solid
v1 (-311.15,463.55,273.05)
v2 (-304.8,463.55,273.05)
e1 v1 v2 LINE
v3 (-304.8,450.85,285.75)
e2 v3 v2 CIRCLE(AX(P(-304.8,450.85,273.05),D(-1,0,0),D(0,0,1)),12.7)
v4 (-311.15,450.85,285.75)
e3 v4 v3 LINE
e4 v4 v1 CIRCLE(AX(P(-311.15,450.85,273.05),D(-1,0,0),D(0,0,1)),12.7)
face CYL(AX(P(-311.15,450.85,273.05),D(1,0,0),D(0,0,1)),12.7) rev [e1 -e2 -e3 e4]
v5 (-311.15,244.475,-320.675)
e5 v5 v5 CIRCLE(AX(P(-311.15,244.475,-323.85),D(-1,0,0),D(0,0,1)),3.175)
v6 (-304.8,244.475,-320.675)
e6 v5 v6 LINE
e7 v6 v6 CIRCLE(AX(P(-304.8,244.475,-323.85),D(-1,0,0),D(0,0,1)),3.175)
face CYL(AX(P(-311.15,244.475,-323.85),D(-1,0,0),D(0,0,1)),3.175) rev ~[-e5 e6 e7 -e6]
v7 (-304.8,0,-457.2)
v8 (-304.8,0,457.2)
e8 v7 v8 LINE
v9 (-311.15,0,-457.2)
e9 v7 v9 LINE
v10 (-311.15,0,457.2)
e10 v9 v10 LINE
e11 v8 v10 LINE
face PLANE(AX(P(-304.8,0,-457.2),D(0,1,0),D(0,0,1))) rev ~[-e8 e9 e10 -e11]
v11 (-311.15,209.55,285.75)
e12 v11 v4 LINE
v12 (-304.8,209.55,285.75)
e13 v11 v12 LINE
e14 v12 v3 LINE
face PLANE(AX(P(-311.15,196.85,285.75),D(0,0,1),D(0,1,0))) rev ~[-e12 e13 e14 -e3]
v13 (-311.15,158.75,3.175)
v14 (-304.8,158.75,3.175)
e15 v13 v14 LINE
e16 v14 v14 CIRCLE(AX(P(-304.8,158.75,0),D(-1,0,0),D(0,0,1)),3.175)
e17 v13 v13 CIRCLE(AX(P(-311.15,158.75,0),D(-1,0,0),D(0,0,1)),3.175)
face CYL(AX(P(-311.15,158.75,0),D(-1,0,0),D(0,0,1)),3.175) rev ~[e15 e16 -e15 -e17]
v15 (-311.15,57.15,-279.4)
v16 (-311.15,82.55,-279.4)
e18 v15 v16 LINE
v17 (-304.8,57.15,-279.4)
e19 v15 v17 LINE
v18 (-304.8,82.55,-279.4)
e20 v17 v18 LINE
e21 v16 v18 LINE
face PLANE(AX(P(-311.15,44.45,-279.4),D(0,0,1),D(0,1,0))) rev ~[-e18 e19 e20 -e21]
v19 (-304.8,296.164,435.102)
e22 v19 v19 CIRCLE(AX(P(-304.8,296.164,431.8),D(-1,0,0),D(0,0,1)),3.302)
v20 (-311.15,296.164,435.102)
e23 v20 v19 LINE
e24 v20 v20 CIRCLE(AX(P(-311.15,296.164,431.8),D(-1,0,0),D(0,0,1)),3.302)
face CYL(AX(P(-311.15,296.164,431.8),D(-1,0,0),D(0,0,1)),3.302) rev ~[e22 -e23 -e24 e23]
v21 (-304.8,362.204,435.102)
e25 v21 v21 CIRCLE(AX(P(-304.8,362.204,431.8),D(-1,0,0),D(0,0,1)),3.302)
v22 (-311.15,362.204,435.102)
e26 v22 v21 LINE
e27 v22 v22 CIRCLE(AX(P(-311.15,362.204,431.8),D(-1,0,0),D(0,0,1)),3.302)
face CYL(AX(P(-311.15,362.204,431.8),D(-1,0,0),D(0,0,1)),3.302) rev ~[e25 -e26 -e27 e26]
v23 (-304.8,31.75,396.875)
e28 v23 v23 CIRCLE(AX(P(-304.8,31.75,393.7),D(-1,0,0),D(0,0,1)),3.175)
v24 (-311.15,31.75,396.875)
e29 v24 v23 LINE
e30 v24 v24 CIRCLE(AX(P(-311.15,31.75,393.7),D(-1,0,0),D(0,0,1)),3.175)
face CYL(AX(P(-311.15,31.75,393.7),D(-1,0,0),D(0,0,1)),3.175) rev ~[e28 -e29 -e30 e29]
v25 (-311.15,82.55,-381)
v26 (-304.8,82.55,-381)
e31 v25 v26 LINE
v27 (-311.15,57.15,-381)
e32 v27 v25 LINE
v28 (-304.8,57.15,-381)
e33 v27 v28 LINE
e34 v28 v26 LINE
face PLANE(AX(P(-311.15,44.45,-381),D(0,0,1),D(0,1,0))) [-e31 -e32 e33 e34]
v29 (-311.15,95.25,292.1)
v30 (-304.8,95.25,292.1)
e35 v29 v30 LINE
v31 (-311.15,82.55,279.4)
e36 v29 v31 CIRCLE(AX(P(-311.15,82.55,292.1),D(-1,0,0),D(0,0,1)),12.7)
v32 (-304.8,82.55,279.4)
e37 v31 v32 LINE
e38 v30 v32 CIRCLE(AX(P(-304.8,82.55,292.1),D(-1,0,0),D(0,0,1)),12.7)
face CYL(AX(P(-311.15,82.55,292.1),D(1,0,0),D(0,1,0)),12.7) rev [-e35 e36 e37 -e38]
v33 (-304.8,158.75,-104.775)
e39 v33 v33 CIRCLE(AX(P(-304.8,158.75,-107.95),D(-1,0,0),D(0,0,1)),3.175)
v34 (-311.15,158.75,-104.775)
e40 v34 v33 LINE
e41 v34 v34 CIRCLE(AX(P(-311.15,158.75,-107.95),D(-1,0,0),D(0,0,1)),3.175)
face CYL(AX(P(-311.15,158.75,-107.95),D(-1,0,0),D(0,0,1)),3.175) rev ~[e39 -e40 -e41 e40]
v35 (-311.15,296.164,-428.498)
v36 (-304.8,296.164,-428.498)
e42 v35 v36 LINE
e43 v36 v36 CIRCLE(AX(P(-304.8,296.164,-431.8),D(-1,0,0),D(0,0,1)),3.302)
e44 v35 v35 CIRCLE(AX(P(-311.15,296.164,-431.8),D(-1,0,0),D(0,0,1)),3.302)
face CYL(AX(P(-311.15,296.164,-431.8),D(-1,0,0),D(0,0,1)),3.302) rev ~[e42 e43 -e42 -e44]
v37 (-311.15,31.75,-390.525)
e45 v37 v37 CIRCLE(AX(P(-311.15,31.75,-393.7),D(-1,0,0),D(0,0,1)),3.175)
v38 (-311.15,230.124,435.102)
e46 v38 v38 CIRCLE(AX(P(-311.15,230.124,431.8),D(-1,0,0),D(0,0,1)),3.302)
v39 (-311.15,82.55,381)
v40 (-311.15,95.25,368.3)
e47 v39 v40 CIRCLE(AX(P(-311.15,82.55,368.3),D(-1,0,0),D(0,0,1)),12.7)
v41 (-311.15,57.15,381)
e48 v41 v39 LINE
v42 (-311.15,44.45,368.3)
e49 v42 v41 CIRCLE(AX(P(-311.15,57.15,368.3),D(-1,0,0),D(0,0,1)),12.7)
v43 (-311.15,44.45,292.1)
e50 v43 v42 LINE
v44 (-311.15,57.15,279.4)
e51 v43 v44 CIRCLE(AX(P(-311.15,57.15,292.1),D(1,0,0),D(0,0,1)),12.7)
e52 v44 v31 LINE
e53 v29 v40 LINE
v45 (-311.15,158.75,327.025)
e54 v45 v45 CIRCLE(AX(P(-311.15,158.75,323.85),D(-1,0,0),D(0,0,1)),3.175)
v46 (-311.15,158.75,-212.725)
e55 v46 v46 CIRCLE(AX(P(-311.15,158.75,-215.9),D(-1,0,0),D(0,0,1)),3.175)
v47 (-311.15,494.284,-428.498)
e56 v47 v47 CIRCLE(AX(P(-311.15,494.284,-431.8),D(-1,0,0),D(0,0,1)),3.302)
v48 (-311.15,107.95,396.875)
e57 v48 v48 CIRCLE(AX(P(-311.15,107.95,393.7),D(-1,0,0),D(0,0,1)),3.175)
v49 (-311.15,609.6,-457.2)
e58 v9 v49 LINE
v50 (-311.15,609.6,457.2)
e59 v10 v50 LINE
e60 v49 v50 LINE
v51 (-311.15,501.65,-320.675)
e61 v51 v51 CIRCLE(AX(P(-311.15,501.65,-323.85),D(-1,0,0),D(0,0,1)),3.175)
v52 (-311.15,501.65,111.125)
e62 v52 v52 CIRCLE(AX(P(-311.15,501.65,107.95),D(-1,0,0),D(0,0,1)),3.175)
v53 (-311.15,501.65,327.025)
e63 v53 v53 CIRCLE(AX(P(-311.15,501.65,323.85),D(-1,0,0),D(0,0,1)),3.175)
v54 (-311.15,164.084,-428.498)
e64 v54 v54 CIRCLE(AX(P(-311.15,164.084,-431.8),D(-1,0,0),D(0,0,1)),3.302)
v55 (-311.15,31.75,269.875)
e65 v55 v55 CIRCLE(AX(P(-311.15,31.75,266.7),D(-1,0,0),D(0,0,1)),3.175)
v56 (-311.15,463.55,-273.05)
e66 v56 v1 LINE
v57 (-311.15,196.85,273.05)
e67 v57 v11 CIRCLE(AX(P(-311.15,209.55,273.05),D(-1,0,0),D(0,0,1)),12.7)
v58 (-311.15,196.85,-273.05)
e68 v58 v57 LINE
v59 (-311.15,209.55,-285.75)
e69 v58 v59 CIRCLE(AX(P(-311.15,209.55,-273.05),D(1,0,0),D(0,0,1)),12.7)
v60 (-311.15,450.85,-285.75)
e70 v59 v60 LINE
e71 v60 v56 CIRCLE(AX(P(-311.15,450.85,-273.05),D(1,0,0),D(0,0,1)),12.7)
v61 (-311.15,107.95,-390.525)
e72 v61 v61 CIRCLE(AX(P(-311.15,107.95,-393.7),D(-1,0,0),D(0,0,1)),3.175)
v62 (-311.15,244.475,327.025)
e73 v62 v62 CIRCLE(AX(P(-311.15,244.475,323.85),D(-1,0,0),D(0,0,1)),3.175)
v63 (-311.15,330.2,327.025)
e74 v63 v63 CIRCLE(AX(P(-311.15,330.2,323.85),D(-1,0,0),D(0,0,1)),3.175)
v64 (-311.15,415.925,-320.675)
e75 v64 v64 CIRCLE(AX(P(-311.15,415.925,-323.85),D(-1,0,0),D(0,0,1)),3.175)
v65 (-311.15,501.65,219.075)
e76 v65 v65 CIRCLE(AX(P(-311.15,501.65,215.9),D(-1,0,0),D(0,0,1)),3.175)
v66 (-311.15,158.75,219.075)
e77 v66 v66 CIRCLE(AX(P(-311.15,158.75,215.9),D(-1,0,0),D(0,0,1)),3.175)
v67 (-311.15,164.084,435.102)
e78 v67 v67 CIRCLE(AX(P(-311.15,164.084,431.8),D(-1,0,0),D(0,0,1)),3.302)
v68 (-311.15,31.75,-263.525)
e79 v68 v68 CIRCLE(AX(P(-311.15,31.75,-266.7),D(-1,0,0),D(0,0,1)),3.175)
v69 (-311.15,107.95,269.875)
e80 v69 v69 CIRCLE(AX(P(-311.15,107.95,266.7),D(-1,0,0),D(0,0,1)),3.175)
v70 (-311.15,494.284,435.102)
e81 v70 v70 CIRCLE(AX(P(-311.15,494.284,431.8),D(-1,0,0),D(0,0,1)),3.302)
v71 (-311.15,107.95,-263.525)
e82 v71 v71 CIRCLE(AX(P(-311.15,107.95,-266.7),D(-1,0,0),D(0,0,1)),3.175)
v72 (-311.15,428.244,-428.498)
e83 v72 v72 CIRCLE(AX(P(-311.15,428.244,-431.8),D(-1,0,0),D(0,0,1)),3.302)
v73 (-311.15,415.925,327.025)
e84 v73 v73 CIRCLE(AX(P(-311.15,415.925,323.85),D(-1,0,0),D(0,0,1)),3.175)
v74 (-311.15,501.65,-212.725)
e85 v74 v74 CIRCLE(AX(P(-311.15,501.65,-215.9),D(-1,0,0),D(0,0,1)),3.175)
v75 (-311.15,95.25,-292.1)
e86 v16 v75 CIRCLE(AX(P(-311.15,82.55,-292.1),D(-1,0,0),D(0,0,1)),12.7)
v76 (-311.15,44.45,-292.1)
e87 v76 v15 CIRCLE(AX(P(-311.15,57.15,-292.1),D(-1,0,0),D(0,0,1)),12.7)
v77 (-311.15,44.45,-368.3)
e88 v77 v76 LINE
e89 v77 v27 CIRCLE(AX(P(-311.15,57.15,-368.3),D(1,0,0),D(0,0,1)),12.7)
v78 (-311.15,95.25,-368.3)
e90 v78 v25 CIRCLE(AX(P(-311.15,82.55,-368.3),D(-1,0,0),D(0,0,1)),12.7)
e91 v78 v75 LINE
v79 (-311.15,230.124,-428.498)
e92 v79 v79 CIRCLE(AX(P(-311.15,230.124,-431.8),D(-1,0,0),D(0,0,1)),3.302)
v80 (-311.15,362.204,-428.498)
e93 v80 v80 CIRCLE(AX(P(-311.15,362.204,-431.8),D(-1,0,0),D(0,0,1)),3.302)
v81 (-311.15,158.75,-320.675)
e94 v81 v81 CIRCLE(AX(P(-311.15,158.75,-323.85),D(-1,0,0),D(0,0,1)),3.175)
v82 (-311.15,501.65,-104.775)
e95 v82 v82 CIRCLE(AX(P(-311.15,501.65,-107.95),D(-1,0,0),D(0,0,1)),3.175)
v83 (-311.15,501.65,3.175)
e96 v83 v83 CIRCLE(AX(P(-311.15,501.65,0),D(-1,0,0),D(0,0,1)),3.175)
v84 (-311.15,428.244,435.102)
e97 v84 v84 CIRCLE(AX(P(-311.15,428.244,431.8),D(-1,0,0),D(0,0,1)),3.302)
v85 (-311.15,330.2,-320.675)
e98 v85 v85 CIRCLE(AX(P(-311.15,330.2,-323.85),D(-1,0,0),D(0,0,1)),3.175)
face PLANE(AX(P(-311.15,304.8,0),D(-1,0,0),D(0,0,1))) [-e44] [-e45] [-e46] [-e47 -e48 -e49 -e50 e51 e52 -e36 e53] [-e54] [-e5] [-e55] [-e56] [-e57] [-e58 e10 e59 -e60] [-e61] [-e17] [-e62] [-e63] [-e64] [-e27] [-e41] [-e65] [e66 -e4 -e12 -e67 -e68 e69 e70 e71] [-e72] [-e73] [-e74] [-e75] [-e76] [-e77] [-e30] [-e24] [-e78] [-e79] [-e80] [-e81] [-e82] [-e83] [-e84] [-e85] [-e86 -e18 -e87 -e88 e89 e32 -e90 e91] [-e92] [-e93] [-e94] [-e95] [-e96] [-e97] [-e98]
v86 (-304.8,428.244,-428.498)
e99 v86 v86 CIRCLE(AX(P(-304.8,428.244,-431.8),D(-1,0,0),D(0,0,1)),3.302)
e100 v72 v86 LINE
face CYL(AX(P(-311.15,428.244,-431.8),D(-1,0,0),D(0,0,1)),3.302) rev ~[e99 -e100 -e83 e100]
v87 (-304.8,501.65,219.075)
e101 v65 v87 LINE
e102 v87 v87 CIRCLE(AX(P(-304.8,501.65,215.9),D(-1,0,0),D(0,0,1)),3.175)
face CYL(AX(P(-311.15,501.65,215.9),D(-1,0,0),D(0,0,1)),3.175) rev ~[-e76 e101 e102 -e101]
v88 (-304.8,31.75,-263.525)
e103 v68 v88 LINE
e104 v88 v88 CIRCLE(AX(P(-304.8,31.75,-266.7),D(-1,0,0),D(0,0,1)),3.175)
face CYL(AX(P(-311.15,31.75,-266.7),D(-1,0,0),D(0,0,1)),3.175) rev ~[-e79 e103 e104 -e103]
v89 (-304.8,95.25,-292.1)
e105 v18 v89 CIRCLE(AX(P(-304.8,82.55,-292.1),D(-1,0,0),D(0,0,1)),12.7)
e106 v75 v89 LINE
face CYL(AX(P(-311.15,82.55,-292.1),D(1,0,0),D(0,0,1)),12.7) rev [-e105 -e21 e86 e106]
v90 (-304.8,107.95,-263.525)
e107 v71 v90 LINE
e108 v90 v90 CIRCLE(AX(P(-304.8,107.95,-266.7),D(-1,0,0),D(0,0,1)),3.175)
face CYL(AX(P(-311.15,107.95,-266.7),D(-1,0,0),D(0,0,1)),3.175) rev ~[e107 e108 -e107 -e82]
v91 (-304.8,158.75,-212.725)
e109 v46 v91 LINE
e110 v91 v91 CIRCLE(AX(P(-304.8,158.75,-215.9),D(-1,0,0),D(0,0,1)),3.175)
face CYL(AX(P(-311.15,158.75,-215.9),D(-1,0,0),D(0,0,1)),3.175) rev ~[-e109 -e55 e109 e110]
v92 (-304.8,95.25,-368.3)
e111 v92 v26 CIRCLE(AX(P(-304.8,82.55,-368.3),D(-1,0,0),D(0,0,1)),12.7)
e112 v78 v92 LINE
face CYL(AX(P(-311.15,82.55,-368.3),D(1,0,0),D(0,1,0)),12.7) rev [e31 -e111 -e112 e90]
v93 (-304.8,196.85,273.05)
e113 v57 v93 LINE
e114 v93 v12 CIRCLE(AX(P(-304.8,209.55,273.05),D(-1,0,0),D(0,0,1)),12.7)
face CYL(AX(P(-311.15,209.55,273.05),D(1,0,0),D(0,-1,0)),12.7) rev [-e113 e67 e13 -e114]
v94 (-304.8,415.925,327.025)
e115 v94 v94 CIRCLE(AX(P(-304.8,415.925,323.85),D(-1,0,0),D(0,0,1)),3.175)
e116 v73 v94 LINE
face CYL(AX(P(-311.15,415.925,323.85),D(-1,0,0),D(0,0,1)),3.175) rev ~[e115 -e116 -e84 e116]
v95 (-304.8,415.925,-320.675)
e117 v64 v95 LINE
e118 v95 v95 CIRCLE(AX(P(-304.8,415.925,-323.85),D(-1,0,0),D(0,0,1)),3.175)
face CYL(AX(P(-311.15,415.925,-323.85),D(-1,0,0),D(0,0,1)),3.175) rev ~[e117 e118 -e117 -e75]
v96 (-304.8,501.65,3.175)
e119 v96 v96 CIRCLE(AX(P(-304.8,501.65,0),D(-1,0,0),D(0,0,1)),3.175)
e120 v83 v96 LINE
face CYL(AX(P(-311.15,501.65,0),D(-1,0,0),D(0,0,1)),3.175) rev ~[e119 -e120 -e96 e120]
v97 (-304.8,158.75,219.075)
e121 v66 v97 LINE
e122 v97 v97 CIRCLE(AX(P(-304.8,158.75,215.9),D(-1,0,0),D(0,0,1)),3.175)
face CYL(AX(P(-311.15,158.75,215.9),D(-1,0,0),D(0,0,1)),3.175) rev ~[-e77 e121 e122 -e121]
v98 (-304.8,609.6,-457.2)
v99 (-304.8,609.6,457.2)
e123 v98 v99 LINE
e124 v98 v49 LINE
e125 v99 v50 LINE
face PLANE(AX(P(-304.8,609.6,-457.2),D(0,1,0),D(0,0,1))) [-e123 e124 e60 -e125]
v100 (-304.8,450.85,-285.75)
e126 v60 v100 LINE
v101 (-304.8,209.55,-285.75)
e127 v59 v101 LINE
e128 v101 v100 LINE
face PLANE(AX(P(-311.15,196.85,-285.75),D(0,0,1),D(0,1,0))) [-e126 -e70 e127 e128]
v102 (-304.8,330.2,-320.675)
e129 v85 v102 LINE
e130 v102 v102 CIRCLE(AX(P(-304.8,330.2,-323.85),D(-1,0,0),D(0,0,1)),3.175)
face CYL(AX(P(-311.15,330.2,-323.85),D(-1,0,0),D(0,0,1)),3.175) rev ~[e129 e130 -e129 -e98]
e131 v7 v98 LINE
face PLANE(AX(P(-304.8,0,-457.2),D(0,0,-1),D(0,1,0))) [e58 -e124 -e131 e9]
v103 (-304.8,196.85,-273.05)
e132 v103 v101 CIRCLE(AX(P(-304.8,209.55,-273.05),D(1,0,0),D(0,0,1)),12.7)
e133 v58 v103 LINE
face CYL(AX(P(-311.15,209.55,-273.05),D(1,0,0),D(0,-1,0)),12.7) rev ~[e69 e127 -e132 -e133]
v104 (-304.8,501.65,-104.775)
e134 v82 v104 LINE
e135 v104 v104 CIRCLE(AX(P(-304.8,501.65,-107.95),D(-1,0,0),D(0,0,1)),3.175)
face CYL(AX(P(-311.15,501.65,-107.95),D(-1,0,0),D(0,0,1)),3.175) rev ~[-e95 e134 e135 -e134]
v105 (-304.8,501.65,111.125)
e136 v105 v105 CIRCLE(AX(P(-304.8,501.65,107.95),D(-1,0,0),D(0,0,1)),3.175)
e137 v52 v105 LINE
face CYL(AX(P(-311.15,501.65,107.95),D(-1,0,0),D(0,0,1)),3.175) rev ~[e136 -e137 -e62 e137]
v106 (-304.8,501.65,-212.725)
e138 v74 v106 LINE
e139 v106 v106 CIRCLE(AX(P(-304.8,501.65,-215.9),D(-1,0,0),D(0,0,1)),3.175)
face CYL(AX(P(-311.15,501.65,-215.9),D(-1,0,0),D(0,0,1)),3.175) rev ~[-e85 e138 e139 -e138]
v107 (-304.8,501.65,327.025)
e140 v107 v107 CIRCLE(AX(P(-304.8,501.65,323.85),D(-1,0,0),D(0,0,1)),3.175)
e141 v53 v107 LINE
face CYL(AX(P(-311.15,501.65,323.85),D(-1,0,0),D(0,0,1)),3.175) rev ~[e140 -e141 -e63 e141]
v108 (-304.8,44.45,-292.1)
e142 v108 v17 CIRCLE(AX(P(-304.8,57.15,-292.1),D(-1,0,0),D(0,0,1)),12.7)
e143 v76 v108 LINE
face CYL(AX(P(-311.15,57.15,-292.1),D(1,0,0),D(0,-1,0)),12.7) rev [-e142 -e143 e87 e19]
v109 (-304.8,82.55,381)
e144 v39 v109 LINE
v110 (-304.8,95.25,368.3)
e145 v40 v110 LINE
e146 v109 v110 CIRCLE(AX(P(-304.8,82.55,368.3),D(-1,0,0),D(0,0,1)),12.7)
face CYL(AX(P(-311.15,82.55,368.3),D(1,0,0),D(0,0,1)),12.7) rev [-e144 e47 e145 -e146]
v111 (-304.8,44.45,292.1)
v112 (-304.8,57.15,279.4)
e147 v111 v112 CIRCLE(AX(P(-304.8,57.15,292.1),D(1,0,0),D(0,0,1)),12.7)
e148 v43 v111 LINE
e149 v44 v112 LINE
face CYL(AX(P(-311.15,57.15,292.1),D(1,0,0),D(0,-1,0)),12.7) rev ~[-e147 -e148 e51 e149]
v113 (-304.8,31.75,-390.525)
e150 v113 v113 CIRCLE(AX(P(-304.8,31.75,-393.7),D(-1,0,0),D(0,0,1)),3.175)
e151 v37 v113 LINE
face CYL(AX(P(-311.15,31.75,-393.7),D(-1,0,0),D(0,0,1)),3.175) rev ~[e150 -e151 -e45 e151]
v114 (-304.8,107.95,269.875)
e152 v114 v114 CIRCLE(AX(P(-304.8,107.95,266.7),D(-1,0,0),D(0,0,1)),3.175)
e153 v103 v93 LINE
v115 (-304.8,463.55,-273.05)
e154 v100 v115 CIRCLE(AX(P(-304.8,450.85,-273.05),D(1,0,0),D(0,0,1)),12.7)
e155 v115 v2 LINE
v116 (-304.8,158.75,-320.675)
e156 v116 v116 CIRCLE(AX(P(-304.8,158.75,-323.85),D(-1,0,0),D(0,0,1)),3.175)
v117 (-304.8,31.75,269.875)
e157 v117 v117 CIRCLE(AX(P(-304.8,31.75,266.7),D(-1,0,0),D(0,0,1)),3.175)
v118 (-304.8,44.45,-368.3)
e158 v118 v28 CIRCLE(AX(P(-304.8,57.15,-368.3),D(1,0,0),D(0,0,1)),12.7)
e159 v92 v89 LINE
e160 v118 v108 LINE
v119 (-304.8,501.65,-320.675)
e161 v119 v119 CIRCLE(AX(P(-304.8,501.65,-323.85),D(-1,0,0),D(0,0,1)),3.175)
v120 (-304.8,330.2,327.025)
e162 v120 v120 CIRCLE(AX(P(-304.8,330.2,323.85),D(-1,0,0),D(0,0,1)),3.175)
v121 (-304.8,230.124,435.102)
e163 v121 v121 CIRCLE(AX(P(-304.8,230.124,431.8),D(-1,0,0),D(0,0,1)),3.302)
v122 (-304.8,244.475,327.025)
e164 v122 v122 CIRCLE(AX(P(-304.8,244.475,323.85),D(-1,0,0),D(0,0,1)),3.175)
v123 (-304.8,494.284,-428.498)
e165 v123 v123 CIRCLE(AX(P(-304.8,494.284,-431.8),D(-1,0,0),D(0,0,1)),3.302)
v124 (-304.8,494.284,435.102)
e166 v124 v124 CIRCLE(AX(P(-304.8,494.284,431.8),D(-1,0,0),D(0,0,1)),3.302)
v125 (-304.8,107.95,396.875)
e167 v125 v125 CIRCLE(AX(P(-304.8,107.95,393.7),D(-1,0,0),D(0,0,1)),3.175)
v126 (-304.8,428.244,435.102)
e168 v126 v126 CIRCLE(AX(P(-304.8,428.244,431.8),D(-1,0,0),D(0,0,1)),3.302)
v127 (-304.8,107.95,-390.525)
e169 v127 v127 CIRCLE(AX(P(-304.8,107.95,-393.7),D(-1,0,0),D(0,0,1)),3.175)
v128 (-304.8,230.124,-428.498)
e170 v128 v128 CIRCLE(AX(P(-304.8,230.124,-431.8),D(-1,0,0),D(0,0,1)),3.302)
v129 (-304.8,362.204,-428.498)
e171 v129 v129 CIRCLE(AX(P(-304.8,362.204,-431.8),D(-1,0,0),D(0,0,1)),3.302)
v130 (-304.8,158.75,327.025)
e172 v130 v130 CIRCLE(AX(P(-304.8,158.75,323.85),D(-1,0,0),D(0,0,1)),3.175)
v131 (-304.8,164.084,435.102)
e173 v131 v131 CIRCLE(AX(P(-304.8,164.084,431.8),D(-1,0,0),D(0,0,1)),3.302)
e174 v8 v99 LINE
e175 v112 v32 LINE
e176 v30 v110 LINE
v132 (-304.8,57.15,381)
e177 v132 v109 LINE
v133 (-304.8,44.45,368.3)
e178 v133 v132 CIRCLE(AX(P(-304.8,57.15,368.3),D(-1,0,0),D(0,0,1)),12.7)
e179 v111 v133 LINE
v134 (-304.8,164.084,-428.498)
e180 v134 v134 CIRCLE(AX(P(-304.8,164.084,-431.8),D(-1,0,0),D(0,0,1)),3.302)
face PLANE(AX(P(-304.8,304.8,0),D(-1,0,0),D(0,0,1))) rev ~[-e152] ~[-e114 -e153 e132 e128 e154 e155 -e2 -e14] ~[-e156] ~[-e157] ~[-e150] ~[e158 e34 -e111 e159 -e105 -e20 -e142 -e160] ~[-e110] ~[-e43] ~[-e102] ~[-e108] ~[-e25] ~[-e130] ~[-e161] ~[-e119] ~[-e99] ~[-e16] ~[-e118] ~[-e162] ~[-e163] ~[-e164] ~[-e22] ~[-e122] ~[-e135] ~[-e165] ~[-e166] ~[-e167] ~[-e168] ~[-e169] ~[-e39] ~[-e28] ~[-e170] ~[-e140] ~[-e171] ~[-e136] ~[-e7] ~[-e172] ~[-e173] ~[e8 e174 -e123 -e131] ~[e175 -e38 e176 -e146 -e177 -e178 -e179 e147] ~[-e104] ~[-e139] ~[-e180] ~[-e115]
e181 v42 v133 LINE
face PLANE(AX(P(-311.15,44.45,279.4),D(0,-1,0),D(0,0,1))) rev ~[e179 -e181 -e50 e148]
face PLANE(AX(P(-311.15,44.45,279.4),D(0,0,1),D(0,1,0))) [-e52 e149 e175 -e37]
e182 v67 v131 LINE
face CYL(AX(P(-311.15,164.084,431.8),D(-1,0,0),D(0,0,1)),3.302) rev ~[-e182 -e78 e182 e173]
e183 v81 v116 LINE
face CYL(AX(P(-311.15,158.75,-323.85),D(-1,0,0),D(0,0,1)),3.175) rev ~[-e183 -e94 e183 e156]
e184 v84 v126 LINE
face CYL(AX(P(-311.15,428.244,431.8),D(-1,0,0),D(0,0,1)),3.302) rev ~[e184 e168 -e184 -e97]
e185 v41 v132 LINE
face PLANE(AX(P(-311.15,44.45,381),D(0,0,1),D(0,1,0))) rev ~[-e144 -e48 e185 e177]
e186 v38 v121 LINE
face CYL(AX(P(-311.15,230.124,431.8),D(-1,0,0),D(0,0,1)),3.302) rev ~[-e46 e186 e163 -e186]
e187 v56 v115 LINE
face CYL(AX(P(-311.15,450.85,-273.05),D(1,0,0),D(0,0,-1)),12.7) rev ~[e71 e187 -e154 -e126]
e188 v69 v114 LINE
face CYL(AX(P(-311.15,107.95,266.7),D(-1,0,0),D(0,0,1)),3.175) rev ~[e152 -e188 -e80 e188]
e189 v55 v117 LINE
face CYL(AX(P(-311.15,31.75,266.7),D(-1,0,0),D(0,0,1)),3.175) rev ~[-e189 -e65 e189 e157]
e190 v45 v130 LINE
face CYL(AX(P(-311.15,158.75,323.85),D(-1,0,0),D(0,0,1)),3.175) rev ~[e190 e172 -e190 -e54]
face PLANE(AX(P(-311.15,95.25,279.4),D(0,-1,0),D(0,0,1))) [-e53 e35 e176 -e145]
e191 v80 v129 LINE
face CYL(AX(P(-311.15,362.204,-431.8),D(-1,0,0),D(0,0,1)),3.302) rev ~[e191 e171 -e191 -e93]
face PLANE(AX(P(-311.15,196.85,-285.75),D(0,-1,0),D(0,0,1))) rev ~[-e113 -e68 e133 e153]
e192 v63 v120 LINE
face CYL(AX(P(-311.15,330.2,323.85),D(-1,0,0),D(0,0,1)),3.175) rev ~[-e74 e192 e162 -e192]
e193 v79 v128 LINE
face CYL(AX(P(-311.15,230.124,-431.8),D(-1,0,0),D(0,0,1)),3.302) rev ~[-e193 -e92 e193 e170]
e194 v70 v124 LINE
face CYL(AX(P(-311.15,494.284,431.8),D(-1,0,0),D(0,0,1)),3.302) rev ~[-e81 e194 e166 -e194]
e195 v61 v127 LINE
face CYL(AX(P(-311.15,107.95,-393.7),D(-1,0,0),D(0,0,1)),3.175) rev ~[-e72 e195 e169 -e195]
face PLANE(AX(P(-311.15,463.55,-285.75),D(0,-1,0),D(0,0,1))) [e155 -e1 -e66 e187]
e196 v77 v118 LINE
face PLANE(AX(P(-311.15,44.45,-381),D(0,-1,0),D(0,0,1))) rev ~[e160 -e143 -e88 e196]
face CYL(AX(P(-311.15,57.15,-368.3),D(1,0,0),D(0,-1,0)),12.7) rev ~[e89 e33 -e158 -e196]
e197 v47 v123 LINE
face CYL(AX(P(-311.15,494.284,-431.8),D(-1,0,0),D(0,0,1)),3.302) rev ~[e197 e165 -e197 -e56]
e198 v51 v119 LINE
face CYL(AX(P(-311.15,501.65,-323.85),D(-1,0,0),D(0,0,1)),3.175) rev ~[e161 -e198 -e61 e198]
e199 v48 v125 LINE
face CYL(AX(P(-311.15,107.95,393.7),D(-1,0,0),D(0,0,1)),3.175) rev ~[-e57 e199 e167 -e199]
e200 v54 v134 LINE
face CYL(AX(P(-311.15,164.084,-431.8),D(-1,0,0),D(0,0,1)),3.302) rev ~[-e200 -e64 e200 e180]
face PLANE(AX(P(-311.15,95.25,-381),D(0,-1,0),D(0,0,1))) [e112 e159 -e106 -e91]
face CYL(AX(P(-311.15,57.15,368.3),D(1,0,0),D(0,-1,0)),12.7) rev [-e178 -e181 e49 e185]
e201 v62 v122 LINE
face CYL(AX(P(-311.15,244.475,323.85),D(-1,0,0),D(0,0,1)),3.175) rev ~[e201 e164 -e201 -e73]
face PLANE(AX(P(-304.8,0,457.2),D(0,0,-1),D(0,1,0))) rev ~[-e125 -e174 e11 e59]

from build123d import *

# Parameters (mm, degrees)
SKETCH1_W           = 914.4
SKETCH1_H           = 609.6
BOSS_EXTRUDE1_DEPTH = 6.35
SKETCH2_W           = 571.5
SKETCH2_H           = 266.7
CUT_EXTRUDE1_DEPTH  = 7.35
SKETCH3_W           = 101.6
SKETCH3_H           = 50.8
CUT_EXTRUDE2_DEPTH  = 7.35
FILLET1_R           = 12.7
SKETCH4_R           = 3.175
CUT_EXTRUDE3_DEPTH  = 7.35
SKETCH6_R           = 3.302
CUT_EXTRUDE5_DEPTH  = 6.35


with BuildPart() as part:
    # Sketch1 → Boss-Extrude1 (new body)
    with BuildSketch(Plane.ZY.offset(304.8)):
        with Locations((0, 304.8)):
            Rectangle(SKETCH1_W, SKETCH1_H)
    extrude(amount=BOSS_EXTRUDE1_DEPTH)

    # Sketch2 → Cut-Extrude1 (cut, through all)
    with BuildSketch(Plane.ZY.offset(311.15)):
        with Locations((0, 330.2)):
            Rectangle(SKETCH2_W, SKETCH2_H)
    extrude(amount=-CUT_EXTRUDE1_DEPTH, mode=Mode.SUBTRACT)

    # Sketch3 → Cut-Extrude2 (cut, through all)
    with BuildSketch(Plane.ZY.offset(311.15)):
        with Locations((-330.2, 69.85)):
            Rectangle(SKETCH3_W, SKETCH3_H)
        with Locations((330.2, 69.85)):
            Rectangle(SKETCH3_W, SKETCH3_H)
    extrude(amount=-CUT_EXTRUDE2_DEPTH, mode=Mode.SUBTRACT)

    # Fillet1
    fillet1_edges = [part.edges().sort_by_distance(p)[0] for p in [
        (-307.975, 196.85, -285.75),
        (-307.975, 463.55, -285.75),
        (-307.975, 463.55, 285.75),
        (-307.975, 196.85, 285.75),
        (-307.975, 44.45, -381),
        (-307.975, 95.25, -381),
        (-307.975, 95.25, -279.4),
        (-307.975, 44.45, -279.4),
        (-307.975, 95.25, 279.4),
        (-307.975, 95.25, 381),
        (-307.975, 44.45, 381),
        (-307.975, 44.45, 279.4),
    ]]
    fillet(fillet1_edges, radius=FILLET1_R)

    # Sketch4 → Cut-Extrude3 (cut, through all)
    with BuildSketch(Plane.ZY.offset(311.15)):
        with Locations((323.85, 244.475)):
            Circle(SKETCH4_R)
        with Locations((-323.85, 244.475)):
            Circle(SKETCH4_R)
        with Locations((-107.95, 158.75)):
            Circle(SKETCH4_R)
        with Locations((0, 158.75)):
            Circle(SKETCH4_R)
        with Locations((215.9, 158.75)):
            Circle(SKETCH4_R)
        with Locations((323.85, 158.75)):
            Circle(SKETCH4_R)
        with Locations((-323.85, 158.75)):
            Circle(SKETCH4_R)
        with Locations((-215.9, 158.75)):
            Circle(SKETCH4_R)
        with Locations((266.7, 31.75)):
            Circle(SKETCH4_R)
        with Locations((393.7, 31.75)):
            Circle(SKETCH4_R)
        with Locations((266.7, 107.95)):
            Circle(SKETCH4_R)
        with Locations((393.7, 107.95)):
            Circle(SKETCH4_R)
        with Locations((-266.7, 31.75)):
            Circle(SKETCH4_R)
        with Locations((-393.7, 31.75)):
            Circle(SKETCH4_R)
        with Locations((-393.7, 107.95)):
            Circle(SKETCH4_R)
        with Locations((-266.7, 107.95)):
            Circle(SKETCH4_R)
        with Locations((323.85, 330.2)):
            Circle(SKETCH4_R)
        with Locations((323.85, 415.925)):
            Circle(SKETCH4_R)
        with Locations((323.85, 501.65)):
            Circle(SKETCH4_R)
        with Locations((215.9, 501.65)):
            Circle(SKETCH4_R)
        with Locations((107.95, 501.65)):
            Circle(SKETCH4_R)
        with Locations((0, 501.65)):
            Circle(SKETCH4_R)
        with Locations((-107.95, 501.65)):
            Circle(SKETCH4_R)
        with Locations((-215.9, 501.65)):
            Circle(SKETCH4_R)
        with Locations((-323.85, 501.65)):
            Circle(SKETCH4_R)
        with Locations((-323.85, 415.925)):
            Circle(SKETCH4_R)
        with Locations((-323.85, 330.2)):
            Circle(SKETCH4_R)
    extrude(amount=-CUT_EXTRUDE3_DEPTH, mode=Mode.SUBTRACT)

    # Sketch6 → Cut-Extrude5 (cut)
    with BuildSketch(Plane.ZY.offset(311.15)):
        with Locations((431.8, 164.084)):
            Circle(SKETCH6_R)
        with Locations((431.8, 230.124)):
            Circle(SKETCH6_R)
        with Locations((431.8, 296.164)):
            Circle(SKETCH6_R)
        with Locations((431.8, 362.204)):
            Circle(SKETCH6_R)
        with Locations((431.8, 428.244)):
            Circle(SKETCH6_R)
        with Locations((431.8, 494.284)):
            Circle(SKETCH6_R)
        with Locations((-431.8, 230.124)):
            Circle(SKETCH6_R)
        with Locations((-431.8, 296.164)):
            Circle(SKETCH6_R)
        with Locations((-431.8, 362.204)):
            Circle(SKETCH6_R)
        with Locations((-431.8, 428.244)):
            Circle(SKETCH6_R)
        with Locations((-431.8, 494.284)):
            Circle(SKETCH6_R)
        with Locations((-431.8, 164.084)):
            Circle(SKETCH6_R)
    extrude(amount=-CUT_EXTRUDE5_DEPTH, mode=Mode.SUBTRACT)


solid = part.part
